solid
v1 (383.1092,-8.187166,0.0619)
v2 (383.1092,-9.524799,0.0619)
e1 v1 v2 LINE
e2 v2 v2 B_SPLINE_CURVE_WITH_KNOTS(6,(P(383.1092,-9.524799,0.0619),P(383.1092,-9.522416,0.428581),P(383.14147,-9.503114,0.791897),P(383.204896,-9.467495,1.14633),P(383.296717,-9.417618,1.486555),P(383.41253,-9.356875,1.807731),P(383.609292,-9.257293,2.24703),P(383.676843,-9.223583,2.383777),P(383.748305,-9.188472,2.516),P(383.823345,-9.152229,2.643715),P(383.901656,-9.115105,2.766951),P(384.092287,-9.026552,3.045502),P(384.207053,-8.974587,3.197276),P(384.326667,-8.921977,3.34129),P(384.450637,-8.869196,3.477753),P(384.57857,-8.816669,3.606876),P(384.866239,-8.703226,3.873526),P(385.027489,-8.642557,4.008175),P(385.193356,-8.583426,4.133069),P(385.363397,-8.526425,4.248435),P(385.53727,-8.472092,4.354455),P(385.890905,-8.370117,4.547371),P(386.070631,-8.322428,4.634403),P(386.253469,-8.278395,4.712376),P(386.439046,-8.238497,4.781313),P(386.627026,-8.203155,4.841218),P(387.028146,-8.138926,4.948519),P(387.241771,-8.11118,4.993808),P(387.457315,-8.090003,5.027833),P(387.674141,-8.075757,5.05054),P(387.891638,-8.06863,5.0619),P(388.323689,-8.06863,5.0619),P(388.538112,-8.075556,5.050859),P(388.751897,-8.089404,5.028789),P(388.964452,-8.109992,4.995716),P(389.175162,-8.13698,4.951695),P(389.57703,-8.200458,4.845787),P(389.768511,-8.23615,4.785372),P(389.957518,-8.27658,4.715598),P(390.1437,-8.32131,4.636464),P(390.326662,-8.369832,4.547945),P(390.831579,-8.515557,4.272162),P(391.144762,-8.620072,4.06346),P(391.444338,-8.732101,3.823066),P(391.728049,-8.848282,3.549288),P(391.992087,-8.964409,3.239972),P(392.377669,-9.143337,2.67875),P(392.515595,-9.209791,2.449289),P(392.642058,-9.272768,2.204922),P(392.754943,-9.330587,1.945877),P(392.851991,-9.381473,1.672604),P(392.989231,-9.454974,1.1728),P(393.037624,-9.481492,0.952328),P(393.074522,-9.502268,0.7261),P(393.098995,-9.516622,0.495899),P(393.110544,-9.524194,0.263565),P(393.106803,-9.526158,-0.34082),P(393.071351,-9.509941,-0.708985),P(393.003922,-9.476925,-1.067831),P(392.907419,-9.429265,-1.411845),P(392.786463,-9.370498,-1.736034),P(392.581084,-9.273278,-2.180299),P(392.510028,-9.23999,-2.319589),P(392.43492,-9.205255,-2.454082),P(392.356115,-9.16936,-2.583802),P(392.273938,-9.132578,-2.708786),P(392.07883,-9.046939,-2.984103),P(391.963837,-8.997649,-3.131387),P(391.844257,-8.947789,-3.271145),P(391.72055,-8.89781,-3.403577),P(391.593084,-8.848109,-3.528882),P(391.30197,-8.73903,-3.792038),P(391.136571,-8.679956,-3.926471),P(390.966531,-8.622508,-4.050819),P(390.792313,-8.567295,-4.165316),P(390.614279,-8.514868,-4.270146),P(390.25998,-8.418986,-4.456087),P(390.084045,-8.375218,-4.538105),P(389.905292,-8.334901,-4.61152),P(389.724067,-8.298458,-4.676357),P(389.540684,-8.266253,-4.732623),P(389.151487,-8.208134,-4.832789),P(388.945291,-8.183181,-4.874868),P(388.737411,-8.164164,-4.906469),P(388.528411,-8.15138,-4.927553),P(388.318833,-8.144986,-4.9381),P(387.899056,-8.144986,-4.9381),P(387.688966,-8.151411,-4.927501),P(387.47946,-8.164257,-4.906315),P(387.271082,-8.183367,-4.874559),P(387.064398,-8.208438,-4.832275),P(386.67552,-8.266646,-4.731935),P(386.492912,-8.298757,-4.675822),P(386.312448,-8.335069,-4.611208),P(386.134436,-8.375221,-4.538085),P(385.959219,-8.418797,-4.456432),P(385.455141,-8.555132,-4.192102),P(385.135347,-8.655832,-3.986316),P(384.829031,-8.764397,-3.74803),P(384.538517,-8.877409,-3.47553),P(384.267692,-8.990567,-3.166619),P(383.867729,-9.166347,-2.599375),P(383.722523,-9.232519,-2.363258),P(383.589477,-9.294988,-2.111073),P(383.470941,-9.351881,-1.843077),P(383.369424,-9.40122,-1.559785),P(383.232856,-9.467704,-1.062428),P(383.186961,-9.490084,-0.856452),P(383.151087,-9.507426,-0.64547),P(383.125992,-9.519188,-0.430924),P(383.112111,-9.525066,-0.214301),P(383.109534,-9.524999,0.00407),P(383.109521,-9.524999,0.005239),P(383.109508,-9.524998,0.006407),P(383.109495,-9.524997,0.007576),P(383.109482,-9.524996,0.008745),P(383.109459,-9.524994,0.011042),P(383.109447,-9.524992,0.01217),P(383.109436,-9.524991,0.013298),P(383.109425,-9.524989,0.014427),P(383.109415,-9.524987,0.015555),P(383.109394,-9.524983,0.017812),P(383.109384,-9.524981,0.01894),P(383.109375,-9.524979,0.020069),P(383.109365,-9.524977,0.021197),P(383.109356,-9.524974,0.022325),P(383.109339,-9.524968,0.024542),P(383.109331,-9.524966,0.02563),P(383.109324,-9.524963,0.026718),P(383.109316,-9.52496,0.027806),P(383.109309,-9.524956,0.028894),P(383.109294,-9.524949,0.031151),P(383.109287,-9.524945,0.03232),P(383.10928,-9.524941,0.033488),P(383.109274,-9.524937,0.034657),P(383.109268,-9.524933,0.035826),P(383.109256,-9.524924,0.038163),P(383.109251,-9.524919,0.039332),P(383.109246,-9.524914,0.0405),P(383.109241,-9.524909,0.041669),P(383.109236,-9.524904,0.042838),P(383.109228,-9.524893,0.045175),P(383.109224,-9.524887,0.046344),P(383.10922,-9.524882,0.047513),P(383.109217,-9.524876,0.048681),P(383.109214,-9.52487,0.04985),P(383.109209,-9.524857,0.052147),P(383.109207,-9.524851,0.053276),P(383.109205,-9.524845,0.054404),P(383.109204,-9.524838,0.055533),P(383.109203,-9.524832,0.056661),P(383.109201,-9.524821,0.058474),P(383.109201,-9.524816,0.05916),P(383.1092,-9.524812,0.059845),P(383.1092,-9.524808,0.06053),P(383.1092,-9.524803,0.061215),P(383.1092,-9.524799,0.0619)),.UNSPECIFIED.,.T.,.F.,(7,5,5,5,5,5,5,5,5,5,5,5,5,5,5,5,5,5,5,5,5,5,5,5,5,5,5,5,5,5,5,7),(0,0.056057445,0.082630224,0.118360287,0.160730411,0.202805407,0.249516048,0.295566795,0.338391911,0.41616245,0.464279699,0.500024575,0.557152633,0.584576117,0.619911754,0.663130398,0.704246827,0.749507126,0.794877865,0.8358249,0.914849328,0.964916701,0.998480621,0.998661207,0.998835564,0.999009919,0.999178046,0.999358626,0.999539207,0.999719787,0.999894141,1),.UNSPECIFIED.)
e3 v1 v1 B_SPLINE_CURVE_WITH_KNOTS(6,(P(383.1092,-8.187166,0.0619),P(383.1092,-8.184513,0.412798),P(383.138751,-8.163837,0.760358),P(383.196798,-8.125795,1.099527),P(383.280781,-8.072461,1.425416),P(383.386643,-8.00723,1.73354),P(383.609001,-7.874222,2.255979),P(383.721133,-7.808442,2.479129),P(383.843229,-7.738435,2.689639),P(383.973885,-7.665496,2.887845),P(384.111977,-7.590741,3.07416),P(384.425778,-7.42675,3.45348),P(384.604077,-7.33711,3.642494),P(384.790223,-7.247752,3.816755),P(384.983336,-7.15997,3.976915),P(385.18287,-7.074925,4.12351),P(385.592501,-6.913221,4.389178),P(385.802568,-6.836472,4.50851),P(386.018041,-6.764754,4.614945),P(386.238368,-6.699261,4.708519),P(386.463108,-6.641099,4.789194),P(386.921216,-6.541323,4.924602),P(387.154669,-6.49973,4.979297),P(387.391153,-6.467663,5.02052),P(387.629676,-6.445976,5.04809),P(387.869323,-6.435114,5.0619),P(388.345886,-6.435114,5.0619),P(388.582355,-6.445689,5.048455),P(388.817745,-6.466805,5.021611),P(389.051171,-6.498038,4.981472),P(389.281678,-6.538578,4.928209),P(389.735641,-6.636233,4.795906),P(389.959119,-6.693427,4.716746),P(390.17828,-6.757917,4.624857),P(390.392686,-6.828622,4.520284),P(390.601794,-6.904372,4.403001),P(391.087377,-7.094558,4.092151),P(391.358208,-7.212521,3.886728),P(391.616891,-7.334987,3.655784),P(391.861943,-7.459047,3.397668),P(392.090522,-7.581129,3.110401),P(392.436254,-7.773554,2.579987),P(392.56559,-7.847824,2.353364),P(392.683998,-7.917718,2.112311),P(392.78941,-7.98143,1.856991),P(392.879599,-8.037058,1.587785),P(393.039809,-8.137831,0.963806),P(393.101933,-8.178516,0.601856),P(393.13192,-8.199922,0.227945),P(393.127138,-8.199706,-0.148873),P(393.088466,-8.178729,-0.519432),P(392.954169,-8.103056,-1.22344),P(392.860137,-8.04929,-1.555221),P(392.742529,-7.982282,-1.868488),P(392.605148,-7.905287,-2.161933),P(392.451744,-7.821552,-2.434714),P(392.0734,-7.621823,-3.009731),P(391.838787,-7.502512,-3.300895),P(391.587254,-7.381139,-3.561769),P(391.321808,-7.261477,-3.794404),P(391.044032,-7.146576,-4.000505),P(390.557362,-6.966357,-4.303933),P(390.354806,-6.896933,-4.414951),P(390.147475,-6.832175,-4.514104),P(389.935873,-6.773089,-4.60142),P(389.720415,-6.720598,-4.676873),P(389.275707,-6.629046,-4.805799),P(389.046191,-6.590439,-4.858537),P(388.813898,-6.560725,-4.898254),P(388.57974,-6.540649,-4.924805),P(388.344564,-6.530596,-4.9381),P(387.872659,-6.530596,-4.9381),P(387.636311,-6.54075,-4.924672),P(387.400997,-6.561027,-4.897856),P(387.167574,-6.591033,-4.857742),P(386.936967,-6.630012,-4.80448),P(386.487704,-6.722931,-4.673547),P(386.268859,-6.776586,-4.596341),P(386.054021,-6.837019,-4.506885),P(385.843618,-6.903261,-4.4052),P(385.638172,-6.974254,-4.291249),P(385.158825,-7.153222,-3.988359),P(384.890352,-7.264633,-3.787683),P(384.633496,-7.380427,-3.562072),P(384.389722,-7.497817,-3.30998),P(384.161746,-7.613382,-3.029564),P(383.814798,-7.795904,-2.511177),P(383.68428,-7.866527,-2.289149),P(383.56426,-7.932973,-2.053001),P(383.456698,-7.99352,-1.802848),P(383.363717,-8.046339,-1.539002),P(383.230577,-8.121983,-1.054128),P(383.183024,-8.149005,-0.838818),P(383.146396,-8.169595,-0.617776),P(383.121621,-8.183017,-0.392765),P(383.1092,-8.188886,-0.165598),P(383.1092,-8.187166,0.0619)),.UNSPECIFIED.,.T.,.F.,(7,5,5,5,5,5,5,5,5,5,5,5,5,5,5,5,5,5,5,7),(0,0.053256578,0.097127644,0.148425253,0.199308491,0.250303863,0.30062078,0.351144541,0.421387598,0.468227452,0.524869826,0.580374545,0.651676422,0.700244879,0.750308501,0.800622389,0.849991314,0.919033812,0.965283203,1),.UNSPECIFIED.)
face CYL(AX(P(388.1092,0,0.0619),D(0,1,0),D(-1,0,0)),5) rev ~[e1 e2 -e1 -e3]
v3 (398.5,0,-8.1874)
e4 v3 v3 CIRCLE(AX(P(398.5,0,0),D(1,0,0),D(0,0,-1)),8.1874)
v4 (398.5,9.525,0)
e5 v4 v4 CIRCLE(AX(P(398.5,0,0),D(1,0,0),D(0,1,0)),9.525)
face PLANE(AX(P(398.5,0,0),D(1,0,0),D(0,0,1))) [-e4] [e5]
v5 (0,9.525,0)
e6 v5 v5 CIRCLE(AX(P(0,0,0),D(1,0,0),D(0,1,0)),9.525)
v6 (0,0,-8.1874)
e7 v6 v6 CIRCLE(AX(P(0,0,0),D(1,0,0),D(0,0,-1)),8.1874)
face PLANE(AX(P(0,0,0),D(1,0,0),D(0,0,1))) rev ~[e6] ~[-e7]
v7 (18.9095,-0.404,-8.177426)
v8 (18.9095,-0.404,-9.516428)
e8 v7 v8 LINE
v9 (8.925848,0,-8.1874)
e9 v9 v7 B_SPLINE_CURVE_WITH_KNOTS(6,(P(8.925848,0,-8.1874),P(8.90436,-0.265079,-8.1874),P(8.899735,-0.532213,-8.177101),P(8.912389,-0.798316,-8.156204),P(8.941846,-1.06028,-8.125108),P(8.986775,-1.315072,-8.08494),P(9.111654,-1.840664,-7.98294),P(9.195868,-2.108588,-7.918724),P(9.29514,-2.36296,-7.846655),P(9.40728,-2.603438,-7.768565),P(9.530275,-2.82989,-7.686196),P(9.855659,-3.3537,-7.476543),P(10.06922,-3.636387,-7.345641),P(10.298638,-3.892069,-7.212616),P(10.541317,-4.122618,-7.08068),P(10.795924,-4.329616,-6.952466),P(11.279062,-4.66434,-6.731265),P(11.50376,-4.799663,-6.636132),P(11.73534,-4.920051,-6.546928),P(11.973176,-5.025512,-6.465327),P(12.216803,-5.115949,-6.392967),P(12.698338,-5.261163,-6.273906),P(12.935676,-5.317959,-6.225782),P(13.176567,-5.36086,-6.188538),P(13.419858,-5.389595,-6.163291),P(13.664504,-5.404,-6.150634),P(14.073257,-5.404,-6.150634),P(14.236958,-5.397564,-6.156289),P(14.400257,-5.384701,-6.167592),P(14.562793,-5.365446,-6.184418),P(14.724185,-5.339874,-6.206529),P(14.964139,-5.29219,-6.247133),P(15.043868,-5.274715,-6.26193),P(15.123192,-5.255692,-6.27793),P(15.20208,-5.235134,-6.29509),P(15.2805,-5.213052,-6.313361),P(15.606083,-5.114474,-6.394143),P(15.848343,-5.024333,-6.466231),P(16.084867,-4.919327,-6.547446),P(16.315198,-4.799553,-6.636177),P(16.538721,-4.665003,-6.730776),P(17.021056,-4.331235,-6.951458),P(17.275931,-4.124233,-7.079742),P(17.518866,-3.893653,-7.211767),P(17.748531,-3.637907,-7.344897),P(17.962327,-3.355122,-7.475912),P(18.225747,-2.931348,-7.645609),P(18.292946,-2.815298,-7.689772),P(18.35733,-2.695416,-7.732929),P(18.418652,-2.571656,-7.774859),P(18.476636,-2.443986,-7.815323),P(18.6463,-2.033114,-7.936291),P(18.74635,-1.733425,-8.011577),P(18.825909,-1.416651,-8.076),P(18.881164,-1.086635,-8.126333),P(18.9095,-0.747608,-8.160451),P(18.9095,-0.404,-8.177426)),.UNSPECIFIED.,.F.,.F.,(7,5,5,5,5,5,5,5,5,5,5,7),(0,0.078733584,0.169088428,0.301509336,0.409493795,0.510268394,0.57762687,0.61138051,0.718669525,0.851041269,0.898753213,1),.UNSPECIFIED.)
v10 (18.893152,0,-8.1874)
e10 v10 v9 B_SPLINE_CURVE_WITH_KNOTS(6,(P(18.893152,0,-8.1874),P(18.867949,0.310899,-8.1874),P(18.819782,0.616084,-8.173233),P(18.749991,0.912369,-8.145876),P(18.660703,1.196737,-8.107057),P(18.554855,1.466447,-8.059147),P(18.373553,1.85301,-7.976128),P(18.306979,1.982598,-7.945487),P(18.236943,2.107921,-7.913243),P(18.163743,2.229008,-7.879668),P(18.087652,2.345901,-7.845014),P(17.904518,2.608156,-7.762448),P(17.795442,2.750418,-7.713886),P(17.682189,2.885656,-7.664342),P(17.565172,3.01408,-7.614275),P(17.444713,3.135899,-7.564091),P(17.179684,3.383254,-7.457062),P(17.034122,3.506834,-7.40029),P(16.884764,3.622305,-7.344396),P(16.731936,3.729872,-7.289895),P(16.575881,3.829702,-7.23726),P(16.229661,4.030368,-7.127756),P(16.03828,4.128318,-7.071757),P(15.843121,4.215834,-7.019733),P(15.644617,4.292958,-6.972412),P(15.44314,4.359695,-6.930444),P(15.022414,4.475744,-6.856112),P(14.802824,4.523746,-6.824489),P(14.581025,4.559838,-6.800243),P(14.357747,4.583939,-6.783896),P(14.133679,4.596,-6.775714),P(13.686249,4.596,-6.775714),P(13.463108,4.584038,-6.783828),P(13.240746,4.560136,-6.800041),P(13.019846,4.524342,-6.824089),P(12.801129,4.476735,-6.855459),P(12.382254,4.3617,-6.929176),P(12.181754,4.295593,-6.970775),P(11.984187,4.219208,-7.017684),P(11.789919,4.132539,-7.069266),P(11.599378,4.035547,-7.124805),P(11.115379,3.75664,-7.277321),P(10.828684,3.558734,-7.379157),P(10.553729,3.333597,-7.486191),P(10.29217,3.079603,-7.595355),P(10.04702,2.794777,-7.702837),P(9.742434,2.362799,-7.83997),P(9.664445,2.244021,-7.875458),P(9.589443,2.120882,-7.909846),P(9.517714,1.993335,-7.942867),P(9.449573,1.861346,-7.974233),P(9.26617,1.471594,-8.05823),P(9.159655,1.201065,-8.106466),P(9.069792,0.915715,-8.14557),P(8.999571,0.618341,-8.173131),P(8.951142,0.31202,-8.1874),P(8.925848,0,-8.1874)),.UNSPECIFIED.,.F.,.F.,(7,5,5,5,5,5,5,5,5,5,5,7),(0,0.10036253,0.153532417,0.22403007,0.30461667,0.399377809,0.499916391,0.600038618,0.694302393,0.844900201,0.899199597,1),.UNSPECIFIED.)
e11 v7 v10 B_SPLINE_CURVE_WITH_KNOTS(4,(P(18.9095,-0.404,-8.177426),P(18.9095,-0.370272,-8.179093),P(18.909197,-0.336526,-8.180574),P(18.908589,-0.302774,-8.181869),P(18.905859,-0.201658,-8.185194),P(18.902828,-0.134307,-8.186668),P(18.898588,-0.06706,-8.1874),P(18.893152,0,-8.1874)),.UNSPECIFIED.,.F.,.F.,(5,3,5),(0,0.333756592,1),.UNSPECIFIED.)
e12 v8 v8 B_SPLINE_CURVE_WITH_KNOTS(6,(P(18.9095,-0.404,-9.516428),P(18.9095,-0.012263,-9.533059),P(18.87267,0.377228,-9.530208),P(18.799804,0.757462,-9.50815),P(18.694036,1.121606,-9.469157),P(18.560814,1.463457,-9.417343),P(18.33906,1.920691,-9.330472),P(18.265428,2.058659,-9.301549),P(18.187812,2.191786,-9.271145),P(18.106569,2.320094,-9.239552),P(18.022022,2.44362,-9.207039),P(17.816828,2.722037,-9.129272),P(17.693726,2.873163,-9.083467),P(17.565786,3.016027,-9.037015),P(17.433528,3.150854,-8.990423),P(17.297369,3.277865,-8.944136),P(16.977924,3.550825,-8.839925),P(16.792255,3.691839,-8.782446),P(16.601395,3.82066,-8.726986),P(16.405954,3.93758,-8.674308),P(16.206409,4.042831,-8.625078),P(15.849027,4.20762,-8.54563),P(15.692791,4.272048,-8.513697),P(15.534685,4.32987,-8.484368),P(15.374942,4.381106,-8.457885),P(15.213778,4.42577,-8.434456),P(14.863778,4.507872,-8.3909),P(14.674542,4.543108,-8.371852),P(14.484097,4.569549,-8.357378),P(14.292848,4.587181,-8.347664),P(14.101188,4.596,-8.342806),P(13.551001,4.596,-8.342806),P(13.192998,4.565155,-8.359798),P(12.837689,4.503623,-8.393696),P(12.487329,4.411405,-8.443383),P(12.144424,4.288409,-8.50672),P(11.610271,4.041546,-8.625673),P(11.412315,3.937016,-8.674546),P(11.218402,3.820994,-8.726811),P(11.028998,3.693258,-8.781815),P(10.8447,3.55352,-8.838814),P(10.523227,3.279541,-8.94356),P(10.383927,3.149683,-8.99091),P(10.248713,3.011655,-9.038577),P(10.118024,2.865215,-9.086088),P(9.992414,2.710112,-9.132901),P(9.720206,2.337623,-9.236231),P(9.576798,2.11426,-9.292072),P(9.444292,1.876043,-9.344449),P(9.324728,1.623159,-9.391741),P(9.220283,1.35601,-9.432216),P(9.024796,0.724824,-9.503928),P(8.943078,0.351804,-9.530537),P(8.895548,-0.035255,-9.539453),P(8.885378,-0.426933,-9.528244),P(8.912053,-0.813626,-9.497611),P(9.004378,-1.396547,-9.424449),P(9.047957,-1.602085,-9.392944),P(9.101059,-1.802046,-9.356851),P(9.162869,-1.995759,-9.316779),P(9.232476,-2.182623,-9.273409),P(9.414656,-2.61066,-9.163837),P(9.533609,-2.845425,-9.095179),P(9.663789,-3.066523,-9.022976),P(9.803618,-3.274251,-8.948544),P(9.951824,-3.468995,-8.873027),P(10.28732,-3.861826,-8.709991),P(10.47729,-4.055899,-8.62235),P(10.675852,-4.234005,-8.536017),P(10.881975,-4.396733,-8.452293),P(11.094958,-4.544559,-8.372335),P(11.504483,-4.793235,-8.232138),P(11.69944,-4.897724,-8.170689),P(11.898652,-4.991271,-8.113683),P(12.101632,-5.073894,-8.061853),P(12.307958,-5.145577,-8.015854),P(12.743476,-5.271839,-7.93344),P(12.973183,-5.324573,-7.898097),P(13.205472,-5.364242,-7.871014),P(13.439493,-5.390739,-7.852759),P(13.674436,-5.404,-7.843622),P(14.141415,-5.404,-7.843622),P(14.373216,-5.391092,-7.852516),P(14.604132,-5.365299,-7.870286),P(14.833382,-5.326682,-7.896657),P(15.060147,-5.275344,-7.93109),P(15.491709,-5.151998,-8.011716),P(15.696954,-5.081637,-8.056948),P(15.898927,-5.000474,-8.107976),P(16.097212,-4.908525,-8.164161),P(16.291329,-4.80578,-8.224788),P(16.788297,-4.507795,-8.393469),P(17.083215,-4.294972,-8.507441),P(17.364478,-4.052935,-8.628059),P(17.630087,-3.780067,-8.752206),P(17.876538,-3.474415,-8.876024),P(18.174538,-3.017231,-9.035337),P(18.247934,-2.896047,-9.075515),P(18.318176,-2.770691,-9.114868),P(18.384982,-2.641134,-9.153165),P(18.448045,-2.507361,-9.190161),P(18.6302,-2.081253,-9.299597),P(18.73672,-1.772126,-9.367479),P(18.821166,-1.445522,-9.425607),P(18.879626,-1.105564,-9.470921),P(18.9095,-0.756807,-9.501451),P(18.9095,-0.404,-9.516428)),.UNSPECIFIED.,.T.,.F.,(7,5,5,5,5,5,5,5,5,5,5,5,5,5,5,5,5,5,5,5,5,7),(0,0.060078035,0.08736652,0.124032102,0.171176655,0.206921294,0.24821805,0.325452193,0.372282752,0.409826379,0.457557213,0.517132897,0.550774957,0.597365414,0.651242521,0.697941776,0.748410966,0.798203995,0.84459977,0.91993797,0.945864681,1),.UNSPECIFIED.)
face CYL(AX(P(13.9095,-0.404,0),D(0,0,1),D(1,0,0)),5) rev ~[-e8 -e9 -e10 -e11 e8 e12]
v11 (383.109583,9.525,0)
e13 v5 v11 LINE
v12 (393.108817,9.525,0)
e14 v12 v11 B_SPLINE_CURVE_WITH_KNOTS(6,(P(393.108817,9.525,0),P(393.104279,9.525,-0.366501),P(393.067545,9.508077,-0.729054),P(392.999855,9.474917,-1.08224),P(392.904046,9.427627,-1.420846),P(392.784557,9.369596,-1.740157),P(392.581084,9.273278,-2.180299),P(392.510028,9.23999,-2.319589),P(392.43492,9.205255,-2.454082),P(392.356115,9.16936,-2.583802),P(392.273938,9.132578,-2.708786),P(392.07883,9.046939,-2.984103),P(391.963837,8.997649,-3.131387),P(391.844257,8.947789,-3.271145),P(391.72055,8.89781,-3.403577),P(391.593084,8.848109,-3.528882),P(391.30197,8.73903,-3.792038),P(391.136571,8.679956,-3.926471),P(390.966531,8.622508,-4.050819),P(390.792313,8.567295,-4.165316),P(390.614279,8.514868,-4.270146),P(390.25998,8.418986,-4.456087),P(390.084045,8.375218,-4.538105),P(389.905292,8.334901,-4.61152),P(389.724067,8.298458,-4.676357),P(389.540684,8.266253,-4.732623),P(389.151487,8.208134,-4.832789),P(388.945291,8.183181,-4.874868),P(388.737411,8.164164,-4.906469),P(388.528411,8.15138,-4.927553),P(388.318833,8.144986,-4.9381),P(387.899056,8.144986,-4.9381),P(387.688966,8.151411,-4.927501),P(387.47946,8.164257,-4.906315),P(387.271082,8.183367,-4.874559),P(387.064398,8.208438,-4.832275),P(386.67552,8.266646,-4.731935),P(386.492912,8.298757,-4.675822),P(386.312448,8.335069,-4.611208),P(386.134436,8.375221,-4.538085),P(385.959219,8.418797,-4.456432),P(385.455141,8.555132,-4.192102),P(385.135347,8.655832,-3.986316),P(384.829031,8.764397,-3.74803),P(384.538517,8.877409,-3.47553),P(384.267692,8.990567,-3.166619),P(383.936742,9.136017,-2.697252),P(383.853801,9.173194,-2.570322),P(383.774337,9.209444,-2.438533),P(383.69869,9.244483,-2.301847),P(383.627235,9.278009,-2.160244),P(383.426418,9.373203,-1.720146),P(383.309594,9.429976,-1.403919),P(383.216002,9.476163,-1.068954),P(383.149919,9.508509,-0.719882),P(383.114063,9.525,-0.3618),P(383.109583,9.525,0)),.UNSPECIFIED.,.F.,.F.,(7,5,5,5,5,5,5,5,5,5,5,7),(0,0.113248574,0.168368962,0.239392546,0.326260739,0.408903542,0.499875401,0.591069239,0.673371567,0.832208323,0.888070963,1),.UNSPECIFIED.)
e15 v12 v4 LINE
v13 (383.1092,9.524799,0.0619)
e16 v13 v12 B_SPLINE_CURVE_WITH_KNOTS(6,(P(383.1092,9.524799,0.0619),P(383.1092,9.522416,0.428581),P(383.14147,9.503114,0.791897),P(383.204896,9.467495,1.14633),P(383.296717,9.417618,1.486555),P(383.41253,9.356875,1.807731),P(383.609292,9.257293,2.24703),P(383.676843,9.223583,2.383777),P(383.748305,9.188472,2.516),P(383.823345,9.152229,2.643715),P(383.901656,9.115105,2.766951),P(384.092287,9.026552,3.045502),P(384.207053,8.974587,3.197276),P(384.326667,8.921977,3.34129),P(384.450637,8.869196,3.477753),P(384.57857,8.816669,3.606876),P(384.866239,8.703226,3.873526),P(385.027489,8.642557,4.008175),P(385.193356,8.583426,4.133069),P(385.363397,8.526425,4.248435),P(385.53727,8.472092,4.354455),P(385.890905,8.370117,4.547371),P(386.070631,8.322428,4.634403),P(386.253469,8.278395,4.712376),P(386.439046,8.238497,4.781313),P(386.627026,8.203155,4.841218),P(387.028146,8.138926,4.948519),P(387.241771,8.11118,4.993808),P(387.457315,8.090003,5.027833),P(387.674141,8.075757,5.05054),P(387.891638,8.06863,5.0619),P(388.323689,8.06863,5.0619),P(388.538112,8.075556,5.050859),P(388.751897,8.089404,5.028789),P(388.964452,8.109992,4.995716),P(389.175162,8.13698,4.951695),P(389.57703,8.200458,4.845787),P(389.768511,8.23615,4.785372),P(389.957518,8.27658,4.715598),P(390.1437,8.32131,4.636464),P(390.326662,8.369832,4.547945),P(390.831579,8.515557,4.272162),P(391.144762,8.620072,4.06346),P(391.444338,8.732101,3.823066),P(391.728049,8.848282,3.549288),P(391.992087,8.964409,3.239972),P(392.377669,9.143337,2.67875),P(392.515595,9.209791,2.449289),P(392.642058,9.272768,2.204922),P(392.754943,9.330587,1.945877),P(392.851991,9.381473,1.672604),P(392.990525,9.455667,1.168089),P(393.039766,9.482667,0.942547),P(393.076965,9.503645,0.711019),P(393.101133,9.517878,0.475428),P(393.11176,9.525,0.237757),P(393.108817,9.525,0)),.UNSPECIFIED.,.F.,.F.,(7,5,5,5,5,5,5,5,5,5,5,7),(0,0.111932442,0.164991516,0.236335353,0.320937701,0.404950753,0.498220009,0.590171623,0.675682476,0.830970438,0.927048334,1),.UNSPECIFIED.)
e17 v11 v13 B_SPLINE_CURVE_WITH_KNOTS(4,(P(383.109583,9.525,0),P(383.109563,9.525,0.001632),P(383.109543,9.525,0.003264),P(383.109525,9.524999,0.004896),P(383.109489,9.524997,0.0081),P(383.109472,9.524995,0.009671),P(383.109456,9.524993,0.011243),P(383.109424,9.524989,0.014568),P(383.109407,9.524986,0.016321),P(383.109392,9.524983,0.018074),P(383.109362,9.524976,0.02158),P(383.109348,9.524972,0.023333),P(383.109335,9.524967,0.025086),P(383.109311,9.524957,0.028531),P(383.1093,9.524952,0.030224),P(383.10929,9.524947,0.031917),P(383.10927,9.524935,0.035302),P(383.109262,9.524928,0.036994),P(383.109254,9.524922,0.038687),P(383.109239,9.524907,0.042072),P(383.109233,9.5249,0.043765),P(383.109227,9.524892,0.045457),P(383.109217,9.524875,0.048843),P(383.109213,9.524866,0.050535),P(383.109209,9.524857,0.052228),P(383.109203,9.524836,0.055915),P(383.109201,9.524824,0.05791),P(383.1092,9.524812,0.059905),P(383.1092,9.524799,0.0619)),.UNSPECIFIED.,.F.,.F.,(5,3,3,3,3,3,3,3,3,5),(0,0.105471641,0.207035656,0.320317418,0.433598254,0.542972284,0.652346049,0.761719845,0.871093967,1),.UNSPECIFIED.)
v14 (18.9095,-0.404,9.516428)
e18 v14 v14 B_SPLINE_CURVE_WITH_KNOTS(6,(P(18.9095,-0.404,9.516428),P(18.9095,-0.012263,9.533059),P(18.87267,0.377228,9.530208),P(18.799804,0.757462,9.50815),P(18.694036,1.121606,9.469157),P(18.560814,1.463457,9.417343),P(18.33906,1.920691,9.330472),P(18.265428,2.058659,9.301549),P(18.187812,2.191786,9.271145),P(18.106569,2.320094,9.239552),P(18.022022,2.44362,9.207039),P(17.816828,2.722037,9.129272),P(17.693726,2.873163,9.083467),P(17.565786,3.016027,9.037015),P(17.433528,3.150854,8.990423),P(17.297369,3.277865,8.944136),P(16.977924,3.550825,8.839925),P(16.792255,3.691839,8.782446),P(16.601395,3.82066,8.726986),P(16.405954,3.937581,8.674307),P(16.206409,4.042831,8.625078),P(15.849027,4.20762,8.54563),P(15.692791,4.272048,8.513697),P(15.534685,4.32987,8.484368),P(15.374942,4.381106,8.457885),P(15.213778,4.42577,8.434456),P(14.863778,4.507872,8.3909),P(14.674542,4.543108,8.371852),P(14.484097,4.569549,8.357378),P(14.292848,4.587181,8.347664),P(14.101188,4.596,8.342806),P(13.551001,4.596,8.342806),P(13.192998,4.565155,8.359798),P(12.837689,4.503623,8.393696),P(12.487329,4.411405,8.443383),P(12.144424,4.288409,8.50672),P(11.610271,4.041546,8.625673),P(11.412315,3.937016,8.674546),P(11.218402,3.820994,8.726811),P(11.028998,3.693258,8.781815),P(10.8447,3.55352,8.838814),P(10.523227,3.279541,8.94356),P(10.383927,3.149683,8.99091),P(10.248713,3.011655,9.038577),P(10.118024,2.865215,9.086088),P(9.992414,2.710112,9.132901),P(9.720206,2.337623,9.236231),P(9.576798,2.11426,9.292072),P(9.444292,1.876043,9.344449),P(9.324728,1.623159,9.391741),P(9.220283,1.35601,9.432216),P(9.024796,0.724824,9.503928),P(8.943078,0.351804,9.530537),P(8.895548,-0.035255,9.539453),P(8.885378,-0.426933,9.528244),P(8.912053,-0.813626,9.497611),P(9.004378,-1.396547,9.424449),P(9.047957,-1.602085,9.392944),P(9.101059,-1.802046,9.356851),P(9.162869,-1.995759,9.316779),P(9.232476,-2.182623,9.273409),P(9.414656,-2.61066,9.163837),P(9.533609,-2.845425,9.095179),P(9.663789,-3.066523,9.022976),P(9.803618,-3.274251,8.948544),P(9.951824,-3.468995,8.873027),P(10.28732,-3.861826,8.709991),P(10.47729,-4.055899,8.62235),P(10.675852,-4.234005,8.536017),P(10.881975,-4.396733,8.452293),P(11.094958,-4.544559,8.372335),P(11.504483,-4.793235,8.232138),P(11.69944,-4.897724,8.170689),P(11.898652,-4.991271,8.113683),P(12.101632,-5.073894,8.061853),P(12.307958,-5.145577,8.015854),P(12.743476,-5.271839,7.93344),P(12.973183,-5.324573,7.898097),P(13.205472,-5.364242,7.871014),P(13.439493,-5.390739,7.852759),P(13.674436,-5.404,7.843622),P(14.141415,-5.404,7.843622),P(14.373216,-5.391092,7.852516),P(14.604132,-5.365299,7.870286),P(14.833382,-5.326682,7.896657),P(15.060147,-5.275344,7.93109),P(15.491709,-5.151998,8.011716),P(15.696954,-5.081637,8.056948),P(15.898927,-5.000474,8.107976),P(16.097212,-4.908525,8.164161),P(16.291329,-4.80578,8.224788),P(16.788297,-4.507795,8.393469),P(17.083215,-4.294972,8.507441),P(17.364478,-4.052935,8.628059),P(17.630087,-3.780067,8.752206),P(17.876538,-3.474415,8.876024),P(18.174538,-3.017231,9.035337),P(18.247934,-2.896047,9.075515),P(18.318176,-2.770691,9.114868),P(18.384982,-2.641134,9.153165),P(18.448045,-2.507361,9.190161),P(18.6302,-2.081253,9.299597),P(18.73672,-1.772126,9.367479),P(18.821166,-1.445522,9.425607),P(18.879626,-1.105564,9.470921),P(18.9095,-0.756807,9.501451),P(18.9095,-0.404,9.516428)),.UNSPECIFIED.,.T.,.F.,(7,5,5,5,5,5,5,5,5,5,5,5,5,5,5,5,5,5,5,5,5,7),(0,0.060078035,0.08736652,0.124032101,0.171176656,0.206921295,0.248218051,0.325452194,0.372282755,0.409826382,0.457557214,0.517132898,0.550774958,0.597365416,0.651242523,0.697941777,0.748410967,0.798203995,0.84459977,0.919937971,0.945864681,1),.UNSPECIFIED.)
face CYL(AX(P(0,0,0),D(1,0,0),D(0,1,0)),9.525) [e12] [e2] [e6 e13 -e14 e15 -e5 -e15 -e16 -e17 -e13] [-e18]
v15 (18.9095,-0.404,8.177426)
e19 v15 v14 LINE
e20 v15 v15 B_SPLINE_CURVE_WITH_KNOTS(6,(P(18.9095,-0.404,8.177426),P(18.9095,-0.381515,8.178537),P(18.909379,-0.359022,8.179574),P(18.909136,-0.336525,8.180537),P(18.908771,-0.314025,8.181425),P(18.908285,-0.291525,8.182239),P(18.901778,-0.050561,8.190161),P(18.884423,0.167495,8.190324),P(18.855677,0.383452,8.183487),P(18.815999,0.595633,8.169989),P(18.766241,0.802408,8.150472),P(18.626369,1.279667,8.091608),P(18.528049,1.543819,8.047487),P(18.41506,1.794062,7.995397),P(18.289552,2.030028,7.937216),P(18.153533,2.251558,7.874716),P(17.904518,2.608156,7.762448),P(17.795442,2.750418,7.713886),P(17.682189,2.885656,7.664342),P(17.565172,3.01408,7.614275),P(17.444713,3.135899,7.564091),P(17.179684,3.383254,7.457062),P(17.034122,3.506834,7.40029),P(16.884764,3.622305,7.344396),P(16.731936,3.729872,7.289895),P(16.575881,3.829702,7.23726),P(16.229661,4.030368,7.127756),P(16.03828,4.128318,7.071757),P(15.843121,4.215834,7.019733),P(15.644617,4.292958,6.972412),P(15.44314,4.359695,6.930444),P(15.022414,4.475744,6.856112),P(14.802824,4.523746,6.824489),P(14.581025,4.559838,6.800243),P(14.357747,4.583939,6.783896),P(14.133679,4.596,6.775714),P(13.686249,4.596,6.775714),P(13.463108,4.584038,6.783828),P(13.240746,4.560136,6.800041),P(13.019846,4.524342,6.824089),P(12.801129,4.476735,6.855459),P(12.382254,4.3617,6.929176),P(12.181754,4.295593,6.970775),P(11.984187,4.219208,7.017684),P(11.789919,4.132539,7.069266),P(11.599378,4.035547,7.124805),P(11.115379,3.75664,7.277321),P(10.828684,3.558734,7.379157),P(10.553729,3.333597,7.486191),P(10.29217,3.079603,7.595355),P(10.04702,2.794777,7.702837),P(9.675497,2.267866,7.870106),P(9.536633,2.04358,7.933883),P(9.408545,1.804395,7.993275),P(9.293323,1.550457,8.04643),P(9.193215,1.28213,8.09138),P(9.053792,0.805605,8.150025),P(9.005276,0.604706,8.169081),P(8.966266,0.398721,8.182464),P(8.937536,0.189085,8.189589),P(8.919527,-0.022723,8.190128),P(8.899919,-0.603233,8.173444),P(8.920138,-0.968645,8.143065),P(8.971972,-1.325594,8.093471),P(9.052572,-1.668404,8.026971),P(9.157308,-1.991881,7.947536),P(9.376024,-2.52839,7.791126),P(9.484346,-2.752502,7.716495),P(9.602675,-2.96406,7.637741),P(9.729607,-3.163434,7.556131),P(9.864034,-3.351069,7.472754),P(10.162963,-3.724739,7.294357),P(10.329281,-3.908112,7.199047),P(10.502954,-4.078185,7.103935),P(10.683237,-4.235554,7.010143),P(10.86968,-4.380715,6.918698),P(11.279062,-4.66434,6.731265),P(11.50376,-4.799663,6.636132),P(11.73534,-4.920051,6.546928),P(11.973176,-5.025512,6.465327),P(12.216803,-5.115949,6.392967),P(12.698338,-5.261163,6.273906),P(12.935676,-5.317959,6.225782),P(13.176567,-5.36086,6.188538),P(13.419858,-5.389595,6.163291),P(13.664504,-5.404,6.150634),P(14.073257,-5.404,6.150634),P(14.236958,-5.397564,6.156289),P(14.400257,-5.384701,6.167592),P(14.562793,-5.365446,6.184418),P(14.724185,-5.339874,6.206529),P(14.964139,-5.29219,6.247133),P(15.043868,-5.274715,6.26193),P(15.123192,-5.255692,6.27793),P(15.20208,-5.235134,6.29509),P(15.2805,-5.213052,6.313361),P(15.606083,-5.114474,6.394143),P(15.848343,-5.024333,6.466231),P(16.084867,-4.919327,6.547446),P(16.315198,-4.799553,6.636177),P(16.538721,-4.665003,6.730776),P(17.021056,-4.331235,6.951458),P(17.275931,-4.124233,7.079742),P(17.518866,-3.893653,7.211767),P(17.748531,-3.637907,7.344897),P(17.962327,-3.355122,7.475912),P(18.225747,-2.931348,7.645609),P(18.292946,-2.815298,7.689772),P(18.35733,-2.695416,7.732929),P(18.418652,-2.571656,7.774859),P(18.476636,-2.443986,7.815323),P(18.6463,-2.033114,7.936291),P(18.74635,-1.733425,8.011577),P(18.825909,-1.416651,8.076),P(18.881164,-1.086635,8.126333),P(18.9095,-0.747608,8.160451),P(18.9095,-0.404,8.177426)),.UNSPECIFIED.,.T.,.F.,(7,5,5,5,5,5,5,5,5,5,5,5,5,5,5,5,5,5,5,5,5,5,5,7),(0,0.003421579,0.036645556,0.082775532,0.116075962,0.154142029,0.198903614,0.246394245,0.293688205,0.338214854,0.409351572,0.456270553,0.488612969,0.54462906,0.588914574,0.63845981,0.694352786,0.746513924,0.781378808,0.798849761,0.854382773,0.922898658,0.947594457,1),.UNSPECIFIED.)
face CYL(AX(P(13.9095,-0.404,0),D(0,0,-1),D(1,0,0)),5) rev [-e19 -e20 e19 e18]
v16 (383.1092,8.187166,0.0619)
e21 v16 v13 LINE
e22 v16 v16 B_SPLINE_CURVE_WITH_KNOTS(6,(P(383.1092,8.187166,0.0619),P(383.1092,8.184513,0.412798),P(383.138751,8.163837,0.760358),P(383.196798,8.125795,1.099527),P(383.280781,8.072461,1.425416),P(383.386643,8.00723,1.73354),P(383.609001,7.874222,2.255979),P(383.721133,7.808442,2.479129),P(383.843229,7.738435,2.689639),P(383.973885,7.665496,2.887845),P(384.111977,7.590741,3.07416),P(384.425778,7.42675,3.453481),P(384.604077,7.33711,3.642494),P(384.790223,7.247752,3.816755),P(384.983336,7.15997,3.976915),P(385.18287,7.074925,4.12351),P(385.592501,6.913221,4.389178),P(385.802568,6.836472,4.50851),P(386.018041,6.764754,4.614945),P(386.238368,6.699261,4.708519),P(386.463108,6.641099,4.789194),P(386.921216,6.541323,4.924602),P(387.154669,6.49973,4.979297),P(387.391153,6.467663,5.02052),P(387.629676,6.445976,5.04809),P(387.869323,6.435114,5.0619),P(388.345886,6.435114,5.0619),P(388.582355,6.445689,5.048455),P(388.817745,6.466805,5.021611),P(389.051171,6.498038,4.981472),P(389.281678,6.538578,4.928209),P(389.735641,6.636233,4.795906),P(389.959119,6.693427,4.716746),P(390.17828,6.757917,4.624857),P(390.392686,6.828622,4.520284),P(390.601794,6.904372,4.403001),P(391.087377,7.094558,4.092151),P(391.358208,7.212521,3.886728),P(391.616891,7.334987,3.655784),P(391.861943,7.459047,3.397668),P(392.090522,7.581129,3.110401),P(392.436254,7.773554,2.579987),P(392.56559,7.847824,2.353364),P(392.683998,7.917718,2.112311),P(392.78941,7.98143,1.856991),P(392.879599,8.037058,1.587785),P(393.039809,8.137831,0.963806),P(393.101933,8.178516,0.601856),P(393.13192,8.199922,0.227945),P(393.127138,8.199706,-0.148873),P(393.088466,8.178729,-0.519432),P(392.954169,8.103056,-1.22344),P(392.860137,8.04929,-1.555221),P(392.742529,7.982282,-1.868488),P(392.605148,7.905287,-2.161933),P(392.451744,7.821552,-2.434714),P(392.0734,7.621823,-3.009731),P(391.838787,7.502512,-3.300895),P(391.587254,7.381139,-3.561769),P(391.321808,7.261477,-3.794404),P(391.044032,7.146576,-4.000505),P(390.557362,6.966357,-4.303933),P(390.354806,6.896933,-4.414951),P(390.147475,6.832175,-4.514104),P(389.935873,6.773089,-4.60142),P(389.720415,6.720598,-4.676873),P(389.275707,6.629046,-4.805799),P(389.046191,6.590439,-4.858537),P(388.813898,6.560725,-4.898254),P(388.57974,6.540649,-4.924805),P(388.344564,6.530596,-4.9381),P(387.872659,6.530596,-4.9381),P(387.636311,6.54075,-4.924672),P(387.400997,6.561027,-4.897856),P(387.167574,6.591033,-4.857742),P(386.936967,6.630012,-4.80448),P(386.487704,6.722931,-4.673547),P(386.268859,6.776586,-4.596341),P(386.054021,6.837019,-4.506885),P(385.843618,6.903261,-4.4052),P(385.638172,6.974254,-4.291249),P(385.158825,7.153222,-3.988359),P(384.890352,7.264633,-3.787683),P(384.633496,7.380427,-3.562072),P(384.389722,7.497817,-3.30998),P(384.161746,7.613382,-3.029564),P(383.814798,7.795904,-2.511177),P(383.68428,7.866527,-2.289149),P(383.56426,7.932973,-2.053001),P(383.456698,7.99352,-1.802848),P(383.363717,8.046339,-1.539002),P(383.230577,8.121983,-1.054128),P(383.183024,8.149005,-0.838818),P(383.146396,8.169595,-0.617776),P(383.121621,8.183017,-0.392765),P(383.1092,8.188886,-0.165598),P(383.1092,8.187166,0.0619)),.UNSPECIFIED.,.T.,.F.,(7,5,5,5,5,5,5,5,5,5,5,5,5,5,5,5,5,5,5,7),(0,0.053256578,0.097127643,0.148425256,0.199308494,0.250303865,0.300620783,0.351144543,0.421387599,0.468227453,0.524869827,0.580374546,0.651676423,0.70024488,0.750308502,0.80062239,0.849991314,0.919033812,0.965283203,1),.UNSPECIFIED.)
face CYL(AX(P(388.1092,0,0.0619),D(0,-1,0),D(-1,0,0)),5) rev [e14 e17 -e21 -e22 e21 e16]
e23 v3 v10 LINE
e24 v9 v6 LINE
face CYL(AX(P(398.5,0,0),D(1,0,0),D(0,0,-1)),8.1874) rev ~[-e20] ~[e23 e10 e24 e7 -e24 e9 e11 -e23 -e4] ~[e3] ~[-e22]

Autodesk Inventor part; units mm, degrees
ref_plane "YZ Plane" through (0, 0, 0) normal (1, 0, 0) x (0, 1, 0)
ref_plane "XZ Plane" through (0, 0, 0) normal (0, 1, 0) x (-1, 0, 0)
ref_plane "XY Plane" through (0, 0, 0) normal (0, 0, 1) x (1, 0, 0)
sketch "Sketch1" plane through (0, 0, 0) normal (1, 0, 0) x (0, 1, 0)
  circle A0 centre (0, 0) radius 9.525
  dimension "d0" = 19.05
sketch "Sketch2" plane through (0, 0, 0) normal (0, 1, 0) x (-1, 0, 0)
  line L0 (0, 0) -> (-398.5, 0)
  dimension "d1" = 398.5
sweep "Sweep1" add profiles "Sketch1" path "Sketch2"
sketch "Sketch3" plane through (0, 0, 0) normal (0, 1, 0) x (-1, 0, 0)
  circle A0 centre (-388.1092, 0.0619) radius 5
  dimension "d4" = 10
extrude "Cut1" cut sketch "Sketch3" along normal through all both and the other way through all
sketch "Sketch4" plane through (398.5, 0, 0) normal (1, 0, 0) x (0, 0, -1)
  circle A0 centre (0, 0) radius 8.1874
extrude "Cut2" cut sketch "Sketch4" against normal through all
sketch "Sketch5" plane through (0, 0, 0) normal (0, 0, 1) x (1, 0, 0)
  circle A0 centre (13.9095, -0.404) radius 5
  dimension "d9" = 10
extrude "Cut3" cut sketch "Sketch5" along normal through all both and the other way through all
equation "\"d5\" = d4"
equation "\"d7\" = Thickness"
equation "\"d10\" = Thickness"
equation "\"BendRadius\" = Thickness"
equation "\"BendReliefWidth\" = Thickness"
equation "\"BendReliefDepth\" = 0.5 * Thickness"
equation "\"CornerReliefSize\" = 4 * Thickness"
equation "\"MinimumRemnant\" = 2 * Thickness"
equation "\"TransitionRadius\" = BendRadius"
equation "\"JacobiRadiusSize\" = BendRadius"
equation "\"GapSize\" = Thickness"
equation "\"Thickness\" = 0.5"
properties part number "Tubo_conexion"
